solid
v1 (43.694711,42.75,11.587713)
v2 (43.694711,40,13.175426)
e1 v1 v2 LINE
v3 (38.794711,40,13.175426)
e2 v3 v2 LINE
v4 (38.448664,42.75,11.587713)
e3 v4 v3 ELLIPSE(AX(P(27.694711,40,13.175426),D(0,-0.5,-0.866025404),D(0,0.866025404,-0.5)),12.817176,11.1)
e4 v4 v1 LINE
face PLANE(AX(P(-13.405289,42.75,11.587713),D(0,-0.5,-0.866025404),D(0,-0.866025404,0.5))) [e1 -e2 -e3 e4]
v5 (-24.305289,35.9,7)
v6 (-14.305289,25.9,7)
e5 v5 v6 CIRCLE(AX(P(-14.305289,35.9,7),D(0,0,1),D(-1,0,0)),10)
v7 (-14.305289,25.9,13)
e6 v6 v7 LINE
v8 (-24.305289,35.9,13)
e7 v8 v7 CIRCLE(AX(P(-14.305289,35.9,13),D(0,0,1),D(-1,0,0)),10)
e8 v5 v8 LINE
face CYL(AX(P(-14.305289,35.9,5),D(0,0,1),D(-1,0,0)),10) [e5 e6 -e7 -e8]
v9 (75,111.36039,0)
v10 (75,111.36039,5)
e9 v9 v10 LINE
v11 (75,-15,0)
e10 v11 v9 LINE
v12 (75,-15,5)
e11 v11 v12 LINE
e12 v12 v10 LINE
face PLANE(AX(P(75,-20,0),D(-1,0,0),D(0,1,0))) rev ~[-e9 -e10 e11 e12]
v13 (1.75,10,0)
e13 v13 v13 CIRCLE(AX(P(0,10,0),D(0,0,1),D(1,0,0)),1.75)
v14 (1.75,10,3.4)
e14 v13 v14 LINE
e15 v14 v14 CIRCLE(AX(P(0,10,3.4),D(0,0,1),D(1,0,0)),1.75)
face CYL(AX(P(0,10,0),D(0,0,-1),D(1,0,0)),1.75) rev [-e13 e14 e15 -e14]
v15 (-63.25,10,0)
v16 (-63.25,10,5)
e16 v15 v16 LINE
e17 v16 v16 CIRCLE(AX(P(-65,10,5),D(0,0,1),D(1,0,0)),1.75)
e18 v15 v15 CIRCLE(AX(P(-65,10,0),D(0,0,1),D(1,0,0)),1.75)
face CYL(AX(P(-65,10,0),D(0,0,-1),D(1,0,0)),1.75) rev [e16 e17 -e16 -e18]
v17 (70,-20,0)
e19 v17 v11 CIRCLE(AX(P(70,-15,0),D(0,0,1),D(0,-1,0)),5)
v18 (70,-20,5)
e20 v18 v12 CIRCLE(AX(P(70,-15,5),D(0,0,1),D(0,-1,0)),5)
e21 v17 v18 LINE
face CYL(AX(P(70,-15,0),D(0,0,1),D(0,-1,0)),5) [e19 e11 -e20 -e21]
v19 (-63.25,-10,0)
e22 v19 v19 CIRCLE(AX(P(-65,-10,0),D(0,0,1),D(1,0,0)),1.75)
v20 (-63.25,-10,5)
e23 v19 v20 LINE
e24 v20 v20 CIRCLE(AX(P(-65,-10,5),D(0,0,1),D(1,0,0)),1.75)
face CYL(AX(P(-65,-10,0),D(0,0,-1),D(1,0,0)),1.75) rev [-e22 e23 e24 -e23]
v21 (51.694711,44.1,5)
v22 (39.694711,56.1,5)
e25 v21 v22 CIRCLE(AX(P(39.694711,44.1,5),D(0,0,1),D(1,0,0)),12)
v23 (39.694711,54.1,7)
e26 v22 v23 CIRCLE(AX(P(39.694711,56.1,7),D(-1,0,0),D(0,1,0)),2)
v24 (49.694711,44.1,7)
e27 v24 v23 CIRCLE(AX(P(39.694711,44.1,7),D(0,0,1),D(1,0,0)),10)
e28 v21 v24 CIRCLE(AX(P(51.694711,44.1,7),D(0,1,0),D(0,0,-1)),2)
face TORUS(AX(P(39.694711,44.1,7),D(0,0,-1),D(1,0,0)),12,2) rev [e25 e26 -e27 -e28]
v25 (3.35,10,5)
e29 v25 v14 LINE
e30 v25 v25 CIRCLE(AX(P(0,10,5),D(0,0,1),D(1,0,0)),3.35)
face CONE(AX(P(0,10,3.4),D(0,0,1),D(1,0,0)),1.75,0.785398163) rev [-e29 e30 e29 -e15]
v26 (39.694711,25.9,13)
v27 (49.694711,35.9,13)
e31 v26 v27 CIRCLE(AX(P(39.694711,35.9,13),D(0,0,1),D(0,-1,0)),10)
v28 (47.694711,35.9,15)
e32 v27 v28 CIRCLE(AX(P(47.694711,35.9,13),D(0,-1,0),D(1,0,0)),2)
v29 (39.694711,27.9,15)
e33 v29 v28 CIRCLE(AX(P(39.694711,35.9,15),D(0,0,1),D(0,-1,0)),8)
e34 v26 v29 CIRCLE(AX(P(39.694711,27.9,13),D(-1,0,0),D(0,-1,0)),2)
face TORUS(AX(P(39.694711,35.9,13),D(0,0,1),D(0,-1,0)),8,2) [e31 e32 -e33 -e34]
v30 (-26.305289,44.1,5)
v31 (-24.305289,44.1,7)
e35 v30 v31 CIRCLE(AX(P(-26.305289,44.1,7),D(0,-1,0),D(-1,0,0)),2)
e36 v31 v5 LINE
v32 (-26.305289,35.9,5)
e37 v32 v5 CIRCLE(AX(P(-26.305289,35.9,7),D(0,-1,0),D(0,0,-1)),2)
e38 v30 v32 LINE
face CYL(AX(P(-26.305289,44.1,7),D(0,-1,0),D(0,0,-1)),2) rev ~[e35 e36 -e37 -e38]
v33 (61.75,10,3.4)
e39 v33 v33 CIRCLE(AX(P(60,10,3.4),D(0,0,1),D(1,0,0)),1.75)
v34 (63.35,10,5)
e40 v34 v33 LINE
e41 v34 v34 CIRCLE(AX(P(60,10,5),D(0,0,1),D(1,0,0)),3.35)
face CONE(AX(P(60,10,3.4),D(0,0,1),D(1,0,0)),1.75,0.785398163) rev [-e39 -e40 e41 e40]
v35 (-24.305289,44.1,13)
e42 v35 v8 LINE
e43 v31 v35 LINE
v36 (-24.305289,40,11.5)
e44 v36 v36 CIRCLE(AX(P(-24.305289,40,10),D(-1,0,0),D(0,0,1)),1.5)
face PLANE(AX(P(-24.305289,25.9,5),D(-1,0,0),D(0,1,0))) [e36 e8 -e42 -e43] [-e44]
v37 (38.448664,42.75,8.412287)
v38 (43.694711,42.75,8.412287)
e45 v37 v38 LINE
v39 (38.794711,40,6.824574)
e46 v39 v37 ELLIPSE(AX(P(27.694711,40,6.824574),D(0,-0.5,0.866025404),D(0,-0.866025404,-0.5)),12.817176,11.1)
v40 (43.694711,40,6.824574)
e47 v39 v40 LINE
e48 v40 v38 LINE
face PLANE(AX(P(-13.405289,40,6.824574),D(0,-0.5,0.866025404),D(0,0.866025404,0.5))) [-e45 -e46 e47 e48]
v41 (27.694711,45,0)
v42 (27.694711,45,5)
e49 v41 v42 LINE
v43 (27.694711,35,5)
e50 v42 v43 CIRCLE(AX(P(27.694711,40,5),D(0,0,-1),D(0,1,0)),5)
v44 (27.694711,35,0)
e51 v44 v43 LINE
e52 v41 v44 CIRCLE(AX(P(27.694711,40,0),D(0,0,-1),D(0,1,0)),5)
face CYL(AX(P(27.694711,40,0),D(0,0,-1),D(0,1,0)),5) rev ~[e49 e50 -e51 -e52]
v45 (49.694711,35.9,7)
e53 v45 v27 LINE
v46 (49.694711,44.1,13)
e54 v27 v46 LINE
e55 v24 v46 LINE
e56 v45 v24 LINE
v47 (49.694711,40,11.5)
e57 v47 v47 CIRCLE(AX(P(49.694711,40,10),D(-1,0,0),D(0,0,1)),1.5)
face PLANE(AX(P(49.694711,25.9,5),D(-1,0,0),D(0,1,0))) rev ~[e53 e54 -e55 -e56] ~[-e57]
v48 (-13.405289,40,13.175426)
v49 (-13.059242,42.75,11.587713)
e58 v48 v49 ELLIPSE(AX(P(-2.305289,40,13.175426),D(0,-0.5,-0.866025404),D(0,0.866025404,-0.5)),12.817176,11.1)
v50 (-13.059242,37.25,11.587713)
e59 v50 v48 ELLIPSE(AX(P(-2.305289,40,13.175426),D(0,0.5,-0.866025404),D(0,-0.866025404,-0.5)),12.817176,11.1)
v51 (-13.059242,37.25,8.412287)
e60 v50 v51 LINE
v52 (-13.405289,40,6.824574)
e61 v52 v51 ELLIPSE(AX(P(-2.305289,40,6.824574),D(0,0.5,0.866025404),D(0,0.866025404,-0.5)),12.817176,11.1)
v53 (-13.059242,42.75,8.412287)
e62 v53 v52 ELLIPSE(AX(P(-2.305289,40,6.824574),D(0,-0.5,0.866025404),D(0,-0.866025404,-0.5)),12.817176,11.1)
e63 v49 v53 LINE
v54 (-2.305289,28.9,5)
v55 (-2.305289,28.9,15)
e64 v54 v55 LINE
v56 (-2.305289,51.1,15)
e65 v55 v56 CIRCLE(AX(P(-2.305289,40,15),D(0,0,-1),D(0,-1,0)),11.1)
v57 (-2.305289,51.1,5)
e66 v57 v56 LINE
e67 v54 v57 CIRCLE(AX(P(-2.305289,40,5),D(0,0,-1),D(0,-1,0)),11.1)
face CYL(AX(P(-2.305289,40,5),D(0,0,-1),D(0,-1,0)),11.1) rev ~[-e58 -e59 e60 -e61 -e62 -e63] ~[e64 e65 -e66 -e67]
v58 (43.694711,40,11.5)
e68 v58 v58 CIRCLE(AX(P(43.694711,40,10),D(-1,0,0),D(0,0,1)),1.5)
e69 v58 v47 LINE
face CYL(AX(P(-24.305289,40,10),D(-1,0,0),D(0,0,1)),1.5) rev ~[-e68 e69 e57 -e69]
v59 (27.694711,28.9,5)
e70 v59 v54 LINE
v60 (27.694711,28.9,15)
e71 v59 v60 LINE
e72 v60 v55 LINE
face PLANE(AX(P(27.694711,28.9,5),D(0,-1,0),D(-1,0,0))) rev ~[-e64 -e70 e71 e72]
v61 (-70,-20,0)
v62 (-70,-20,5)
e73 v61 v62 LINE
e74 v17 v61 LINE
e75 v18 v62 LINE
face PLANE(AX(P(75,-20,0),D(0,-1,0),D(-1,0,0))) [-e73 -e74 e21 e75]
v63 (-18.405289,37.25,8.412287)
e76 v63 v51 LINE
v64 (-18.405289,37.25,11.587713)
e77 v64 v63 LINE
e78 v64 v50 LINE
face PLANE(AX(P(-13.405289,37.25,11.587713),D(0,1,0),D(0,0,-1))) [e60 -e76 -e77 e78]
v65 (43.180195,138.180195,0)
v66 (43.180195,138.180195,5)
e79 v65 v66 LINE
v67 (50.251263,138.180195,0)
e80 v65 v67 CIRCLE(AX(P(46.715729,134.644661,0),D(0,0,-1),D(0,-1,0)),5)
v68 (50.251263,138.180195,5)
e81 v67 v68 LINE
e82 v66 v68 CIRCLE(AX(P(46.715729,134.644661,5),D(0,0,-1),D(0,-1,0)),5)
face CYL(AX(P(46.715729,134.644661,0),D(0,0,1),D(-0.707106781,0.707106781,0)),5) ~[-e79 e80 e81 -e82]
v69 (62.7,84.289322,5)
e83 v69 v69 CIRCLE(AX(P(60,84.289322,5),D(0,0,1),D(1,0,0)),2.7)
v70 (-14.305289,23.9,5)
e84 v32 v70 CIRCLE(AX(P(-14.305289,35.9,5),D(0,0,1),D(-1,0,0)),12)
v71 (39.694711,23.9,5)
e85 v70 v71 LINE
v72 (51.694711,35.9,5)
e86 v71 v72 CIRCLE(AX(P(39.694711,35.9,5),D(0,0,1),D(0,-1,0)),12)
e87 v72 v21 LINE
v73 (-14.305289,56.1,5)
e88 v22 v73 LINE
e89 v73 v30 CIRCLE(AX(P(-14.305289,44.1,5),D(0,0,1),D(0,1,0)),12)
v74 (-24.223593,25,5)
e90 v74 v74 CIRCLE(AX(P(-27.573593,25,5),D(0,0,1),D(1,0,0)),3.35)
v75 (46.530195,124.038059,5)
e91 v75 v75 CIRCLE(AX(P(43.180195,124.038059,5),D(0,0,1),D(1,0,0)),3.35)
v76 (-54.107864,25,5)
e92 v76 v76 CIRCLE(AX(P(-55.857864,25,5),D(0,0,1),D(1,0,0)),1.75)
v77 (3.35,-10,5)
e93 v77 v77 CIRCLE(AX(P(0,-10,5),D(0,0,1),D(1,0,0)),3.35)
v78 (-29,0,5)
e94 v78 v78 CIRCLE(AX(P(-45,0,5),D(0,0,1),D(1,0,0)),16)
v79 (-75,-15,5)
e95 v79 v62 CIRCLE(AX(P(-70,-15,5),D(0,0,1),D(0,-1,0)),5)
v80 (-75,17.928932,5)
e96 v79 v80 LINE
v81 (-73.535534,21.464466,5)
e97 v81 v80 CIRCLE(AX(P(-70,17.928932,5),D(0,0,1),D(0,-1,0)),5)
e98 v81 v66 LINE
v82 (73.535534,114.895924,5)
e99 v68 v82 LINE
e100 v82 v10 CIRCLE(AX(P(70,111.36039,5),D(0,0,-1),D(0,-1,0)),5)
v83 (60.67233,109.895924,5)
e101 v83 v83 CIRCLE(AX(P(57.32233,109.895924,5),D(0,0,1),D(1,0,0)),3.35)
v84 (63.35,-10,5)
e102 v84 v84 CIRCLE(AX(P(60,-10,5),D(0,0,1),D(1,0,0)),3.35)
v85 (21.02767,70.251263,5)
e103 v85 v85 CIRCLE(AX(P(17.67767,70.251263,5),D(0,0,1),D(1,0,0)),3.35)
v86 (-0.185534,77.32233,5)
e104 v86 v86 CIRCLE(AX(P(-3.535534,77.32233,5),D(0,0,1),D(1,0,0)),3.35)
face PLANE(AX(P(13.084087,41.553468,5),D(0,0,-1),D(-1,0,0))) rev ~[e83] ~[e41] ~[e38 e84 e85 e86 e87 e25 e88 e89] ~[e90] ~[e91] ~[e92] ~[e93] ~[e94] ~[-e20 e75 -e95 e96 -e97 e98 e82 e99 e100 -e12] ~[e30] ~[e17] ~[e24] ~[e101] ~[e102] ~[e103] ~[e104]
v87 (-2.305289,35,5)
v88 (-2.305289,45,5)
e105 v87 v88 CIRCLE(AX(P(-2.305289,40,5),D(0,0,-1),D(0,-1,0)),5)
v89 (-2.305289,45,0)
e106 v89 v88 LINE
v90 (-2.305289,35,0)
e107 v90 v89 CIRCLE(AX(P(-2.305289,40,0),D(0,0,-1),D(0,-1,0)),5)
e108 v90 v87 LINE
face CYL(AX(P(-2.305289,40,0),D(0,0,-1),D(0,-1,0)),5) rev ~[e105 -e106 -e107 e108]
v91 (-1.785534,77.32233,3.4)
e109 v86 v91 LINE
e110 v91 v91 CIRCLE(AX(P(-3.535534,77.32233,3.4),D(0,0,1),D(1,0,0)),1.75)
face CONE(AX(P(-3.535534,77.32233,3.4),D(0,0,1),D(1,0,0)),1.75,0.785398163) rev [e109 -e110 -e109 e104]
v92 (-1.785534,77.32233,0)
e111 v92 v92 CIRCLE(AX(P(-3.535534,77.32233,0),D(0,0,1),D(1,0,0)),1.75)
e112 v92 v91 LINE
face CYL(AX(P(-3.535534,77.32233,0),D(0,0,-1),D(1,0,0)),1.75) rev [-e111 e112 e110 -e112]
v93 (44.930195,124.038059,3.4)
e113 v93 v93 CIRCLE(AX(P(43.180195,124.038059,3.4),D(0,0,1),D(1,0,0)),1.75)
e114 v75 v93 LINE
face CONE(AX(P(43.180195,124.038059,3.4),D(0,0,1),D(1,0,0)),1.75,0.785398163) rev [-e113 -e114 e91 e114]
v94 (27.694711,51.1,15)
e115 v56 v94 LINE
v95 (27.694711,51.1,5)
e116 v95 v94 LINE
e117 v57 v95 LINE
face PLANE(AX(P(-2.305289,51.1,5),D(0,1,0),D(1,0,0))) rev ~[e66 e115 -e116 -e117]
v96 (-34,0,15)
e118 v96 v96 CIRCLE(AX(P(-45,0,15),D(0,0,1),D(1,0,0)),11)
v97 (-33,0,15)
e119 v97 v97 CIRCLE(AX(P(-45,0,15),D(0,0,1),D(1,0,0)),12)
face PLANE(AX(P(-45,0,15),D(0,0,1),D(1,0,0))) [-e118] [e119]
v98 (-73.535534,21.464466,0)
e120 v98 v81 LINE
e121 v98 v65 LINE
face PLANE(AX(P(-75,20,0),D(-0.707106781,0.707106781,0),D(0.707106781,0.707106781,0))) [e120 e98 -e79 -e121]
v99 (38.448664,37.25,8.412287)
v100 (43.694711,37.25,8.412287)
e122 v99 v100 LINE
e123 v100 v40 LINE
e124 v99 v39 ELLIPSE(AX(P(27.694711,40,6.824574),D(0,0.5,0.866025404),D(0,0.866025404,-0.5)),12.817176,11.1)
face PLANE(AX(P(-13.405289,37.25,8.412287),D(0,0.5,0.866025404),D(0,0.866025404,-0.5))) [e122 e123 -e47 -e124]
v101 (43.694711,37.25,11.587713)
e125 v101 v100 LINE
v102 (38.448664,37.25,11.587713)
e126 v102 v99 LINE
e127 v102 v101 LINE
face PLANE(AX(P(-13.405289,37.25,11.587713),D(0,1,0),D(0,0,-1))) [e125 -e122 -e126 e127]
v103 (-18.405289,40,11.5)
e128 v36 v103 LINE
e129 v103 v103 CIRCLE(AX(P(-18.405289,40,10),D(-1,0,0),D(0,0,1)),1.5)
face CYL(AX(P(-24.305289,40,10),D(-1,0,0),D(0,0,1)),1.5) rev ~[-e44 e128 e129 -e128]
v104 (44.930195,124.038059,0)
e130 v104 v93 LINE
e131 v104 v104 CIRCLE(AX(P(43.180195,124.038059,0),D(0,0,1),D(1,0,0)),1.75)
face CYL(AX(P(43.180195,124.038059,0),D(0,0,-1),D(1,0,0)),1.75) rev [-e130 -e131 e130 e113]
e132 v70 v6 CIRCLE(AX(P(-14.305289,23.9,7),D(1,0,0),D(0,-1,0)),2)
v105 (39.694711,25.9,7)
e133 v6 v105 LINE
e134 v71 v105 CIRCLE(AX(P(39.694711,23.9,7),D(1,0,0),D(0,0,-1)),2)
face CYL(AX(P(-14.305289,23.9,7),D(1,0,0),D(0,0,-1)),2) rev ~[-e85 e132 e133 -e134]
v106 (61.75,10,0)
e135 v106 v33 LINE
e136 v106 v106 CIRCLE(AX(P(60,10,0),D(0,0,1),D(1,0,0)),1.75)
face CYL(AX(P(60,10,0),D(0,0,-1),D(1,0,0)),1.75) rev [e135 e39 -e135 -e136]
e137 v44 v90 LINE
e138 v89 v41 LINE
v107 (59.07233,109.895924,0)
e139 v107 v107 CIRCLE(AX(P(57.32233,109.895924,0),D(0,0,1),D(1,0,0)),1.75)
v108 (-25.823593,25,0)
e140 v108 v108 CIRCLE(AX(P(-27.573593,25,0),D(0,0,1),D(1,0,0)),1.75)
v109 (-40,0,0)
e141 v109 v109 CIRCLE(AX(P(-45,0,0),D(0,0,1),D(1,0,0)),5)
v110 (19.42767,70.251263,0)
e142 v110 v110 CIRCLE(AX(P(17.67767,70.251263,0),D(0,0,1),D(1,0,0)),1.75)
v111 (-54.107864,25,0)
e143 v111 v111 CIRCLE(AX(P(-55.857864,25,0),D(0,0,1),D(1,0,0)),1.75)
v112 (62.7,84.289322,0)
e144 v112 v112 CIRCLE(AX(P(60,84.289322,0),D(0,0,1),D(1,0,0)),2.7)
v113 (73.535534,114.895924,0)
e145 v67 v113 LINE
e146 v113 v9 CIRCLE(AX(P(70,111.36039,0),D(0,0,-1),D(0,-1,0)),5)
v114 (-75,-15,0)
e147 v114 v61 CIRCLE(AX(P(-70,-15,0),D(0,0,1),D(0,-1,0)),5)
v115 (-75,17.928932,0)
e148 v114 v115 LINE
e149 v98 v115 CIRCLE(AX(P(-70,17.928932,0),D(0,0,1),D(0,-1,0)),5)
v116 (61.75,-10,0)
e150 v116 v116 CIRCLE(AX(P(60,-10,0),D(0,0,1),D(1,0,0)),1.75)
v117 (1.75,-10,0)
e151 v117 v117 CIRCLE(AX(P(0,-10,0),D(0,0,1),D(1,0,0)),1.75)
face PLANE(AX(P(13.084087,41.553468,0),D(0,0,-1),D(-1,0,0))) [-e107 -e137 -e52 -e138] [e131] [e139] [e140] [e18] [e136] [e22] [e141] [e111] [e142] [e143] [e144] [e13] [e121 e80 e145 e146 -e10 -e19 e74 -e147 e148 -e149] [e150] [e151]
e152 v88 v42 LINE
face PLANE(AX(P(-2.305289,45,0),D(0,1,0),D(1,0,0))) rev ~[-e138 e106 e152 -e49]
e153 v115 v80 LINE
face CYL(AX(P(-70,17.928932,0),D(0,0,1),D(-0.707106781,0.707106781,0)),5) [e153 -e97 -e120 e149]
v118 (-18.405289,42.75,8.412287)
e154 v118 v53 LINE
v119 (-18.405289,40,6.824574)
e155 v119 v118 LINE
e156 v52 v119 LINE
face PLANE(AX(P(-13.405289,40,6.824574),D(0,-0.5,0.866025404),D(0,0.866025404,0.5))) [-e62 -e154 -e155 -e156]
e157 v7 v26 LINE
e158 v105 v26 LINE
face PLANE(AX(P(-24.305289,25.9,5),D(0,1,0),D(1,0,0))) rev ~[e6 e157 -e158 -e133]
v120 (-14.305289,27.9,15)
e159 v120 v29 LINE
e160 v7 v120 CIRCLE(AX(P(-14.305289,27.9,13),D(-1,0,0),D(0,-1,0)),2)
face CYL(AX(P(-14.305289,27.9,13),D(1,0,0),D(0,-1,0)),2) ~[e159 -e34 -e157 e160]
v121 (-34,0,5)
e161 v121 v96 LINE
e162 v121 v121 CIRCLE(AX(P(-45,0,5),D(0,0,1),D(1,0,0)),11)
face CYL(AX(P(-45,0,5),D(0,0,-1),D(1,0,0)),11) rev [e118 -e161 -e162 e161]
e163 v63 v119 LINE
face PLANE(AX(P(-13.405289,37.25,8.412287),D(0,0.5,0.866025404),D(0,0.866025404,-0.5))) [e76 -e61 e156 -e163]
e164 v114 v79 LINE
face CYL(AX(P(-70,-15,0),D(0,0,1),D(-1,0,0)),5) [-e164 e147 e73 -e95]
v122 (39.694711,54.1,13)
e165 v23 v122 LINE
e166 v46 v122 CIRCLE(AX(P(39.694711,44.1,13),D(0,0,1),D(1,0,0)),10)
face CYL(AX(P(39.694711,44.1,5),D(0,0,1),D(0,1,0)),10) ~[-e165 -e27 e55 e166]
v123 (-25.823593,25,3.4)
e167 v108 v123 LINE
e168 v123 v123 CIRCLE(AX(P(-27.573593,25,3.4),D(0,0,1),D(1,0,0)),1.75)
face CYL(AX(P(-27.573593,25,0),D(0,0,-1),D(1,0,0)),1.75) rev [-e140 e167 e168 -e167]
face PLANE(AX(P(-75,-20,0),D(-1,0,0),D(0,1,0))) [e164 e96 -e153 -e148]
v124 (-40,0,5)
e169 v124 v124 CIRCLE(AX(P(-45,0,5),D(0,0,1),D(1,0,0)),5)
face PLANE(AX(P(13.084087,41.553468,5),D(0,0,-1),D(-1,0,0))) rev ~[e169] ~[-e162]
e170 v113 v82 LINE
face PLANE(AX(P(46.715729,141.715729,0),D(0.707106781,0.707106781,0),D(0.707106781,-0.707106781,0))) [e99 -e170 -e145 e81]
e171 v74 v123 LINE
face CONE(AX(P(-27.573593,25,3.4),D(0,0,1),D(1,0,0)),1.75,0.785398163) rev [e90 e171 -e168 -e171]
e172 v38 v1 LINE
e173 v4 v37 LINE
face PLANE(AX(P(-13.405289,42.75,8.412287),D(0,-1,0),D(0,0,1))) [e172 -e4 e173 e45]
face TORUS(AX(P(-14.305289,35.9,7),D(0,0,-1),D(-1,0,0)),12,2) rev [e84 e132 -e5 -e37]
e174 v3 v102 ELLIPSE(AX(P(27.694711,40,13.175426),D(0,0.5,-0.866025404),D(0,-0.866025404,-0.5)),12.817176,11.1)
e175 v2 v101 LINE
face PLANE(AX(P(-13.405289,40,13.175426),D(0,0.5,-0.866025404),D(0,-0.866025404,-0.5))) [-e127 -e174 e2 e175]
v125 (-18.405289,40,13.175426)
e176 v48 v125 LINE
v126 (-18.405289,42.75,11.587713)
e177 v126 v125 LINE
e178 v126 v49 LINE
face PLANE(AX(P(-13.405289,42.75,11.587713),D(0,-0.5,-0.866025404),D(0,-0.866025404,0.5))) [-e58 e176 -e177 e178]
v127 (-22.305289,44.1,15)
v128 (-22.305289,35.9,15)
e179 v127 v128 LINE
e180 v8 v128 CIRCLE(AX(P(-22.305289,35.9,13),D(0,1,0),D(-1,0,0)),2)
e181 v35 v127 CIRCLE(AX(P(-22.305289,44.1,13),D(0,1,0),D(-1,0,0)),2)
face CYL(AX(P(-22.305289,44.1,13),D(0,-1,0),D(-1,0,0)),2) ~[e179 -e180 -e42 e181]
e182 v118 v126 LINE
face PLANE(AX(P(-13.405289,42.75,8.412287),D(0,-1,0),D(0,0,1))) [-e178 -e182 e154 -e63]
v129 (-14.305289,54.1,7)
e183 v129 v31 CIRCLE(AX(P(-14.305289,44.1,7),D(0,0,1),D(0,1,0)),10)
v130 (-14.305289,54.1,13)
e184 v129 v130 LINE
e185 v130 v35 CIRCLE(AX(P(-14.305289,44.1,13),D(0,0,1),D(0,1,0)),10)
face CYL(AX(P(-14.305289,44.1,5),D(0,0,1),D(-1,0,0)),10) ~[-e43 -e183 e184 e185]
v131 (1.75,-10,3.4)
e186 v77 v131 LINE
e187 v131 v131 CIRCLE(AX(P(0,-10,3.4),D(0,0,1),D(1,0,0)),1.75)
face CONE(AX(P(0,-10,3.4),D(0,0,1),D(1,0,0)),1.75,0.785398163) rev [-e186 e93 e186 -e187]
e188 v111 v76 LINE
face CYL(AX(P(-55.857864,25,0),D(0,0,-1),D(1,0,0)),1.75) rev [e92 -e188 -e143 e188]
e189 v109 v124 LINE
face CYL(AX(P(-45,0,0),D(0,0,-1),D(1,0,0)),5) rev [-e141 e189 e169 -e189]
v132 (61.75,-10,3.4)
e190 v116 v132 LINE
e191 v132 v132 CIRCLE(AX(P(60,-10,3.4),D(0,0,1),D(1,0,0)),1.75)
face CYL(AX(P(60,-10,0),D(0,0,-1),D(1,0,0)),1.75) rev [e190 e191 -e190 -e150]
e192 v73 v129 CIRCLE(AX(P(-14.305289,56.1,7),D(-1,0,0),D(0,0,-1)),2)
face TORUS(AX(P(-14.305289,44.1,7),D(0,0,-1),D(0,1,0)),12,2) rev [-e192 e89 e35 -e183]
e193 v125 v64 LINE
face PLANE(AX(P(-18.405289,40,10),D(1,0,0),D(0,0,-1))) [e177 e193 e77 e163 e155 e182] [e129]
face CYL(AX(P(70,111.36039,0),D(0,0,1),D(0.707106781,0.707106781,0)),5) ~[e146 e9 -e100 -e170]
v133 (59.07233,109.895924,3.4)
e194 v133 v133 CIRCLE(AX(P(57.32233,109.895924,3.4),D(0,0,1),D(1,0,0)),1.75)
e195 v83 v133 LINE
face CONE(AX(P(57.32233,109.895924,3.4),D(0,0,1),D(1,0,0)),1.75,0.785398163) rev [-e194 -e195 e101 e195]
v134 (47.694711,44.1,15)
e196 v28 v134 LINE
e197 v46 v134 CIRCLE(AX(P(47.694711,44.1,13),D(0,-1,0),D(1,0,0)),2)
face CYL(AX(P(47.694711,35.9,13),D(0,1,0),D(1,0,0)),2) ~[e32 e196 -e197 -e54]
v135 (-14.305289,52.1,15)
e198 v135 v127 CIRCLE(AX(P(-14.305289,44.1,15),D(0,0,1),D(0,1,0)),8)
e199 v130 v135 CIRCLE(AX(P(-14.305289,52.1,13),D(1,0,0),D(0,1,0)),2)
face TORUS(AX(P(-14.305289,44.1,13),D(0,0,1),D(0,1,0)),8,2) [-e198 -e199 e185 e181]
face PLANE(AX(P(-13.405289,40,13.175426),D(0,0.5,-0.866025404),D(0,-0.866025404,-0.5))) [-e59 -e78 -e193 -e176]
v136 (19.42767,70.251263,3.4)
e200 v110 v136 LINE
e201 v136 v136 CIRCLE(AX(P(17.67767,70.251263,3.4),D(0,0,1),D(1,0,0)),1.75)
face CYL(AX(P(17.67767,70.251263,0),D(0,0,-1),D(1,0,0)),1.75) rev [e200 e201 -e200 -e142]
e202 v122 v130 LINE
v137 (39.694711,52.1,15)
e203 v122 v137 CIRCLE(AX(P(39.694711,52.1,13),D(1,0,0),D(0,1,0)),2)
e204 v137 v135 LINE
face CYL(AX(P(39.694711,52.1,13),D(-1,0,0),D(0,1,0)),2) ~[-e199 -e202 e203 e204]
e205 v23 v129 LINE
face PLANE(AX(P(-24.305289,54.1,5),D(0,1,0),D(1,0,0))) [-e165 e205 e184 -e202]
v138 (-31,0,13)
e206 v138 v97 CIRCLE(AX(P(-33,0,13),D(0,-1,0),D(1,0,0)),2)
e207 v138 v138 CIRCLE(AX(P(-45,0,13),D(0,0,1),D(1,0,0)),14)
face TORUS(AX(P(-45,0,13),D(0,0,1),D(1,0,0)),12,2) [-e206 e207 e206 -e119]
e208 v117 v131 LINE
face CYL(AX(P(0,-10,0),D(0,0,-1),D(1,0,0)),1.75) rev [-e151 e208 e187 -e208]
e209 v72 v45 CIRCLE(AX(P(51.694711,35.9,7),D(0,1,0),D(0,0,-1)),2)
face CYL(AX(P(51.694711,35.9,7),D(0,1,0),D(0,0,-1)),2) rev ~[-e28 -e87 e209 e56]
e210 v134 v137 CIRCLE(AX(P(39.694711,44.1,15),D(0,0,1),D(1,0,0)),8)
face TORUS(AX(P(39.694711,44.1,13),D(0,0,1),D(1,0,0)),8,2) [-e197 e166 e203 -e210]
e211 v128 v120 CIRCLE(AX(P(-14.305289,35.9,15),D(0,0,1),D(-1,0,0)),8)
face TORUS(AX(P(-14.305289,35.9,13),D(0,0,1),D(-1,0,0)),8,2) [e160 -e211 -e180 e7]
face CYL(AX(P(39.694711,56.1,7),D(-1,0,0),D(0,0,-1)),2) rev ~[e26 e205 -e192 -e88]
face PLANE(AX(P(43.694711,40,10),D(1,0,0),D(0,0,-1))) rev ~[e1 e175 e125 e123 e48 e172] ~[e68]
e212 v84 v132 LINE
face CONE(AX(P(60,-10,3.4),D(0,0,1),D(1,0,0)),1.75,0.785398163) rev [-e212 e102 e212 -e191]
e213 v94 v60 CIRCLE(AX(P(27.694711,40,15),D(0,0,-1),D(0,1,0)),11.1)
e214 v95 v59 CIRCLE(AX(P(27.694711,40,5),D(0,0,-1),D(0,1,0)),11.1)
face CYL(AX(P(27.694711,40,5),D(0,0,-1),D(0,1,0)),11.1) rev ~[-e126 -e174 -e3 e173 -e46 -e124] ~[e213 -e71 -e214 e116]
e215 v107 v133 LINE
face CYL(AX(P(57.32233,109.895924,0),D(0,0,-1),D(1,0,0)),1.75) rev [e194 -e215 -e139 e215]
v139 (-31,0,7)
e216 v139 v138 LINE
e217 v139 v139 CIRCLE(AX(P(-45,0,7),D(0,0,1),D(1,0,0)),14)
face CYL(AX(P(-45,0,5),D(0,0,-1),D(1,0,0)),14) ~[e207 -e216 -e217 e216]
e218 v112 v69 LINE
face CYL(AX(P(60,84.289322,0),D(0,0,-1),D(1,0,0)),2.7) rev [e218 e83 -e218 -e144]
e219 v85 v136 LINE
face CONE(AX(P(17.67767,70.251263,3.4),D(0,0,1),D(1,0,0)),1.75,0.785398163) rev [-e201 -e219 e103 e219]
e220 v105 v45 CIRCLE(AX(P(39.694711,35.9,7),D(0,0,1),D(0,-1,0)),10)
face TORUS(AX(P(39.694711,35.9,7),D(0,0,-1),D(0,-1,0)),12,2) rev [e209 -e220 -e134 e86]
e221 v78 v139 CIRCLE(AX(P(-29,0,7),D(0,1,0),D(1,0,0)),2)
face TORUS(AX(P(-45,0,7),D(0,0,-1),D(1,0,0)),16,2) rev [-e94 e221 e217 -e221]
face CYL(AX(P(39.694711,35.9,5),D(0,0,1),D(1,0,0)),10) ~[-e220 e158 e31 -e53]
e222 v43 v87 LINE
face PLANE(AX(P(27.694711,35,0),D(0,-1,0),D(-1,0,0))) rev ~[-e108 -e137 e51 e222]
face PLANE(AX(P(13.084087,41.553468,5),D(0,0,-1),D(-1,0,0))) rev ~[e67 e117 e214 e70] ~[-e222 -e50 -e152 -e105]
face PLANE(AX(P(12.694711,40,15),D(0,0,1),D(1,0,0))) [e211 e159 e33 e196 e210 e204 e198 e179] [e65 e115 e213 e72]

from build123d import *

# Parameters (mm, degrees)
SKETCH1_R               = 5
SKETCH1_R_2             = 1.75
SKETCH1_R_3             = 2.7
BOSS_EXTRUDE1_DEPTH     = 5
SKETCH2_R               = 14
SKETCH2_R_2             = 11
SKETCH2_W               = 74
SKETCH2_H               = 28.2
BOSS_EXTRUDE2_DEPTH     = 10
CHAMFER1_SIZE           = 1.6
FILLET1_R               = 10
SKETCH3_R               = 1.5
CUT_EXTRUDE1_DEPTH      = 100.305288875
CUT_EXTRUDE3_DEPTH      = 57.1
CUT_EXTRUDE3_DEPTH_BACK = 5
FILLET2_R               = 2
FILLET3_R               = 2
FILLET4_R               = 5


with BuildPart() as part:
    # Sketch1 → Boss-Extrude1 (new body)
    with BuildSketch(Plane.XY):
        Polygon((-75, 20), (46.715728753, 141.715728753), (75, 113.431457505), (75, 20), (75, -20), (-75, -20), align=None)
        with Locations((-45, 0)):
            Circle(SKETCH1_R, mode=Mode.SUBTRACT)
        with Locations((-65, -10)):
            Circle(SKETCH1_R_2, mode=Mode.SUBTRACT)
        with Locations((0, 10)):
            Circle(SKETCH1_R_2, mode=Mode.SUBTRACT)
        with Locations((60, -10)):
            Circle(SKETCH1_R_2, mode=Mode.SUBTRACT)
        with Locations((-55.857864376, 25)):
            Circle(SKETCH1_R_2, mode=Mode.SUBTRACT)
        with Locations((43.180194847, 124.038059223)):
            Circle(SKETCH1_R_2, mode=Mode.SUBTRACT)
        with Locations((-27.573593129, 25)):
            Circle(SKETCH1_R_2, mode=Mode.SUBTRACT)
        with Locations((57.32233047, 109.895923599)):
            Circle(SKETCH1_R_2, mode=Mode.SUBTRACT)
        with Locations((-3.535533906, 77.32233047)):
            Circle(SKETCH1_R_2, mode=Mode.SUBTRACT)
        with Locations((17.67766953, 70.251262658)):
            Circle(SKETCH1_R_2, mode=Mode.SUBTRACT)
        with Locations((60, 10)):
            Circle(SKETCH1_R_2, mode=Mode.SUBTRACT)
        with Locations((-65, 10)):
            Circle(SKETCH1_R_2, mode=Mode.SUBTRACT)
        with Locations((0, -10)):
            Circle(SKETCH1_R_2, mode=Mode.SUBTRACT)
        with Locations((60, 84.289321881)):
            Circle(SKETCH1_R_3, mode=Mode.SUBTRACT)
        with BuildLine():
            Line((-2.305288875, 45), (27.694711125, 45))
            ThreePointArc((27.694711125, 45), (32.694711125, 40), (27.694711125, 35))
            Line((27.694711125, 35), (-2.305288875, 35))
            ThreePointArc((-2.305288875, 35), (-7.305288875, 40), (-2.305288875, 45))
        make_face(mode=Mode.SUBTRACT)
    extrude(amount=BOSS_EXTRUDE1_DEPTH)

    # Sketch2 → Boss-Extrude2 (add)
    with BuildSketch(Plane.XY.offset(5)):
        with Locations((-45, 0)):
            Circle(SKETCH2_R)
        with Locations((-45, 0)):
            Circle(SKETCH2_R_2, mode=Mode.SUBTRACT)
        with Locations((12.694711125, 40)):
            Rectangle(SKETCH2_W, SKETCH2_H)
        with BuildLine():
            Line((-2.305288875, 51.1), (27.694711125, 51.1))
            ThreePointArc((27.694711125, 51.1), (38.794711125, 40), (27.694711125, 28.9))
            Line((27.694711125, 28.9), (-2.305288875, 28.9))
            ThreePointArc((-2.305288875, 28.9), (-13.405288875, 40), (-2.305288875, 51.1))
        make_face(mode=Mode.SUBTRACT)
    extrude(amount=BOSS_EXTRUDE2_DEPTH)

    # Chamfer1
    chamfer1_edges = [part.edges().sort_by_distance(p)[0] for p in [
        (-1.75, -10, 5),
        (58.25, 10, 5),
        (15.92766953, 70.251262658, 5),
        (-5.285533906, 77.32233047, 5),
        (55.57233047, 109.895923599, 5),
        (-29.323593129, 25, 5),
        (41.430194847, 124.038059223, 5),
        (58.25, -10, 5),
        (-1.75, 10, 5),
    ]]
    chamfer(chamfer1_edges, length=CHAMFER1_SIZE)

    # Fillet1
    fillet1_edges = [part.edges().sort_by_distance(p)[0] for p in [
        (49.694711125, 25.9, 10),
        (49.694711125, 54.1, 10),
        (-24.305288875, 54.1, 10),
        (-24.305288875, 25.9, 10),
    ]]
    fillet(fillet1_edges, radius=FILLET1_R)

    # Sketch3 → Cut-Extrude1 (cut, through all)
    with BuildSketch(Plane.ZY.offset(24.305288875)):
        with Locations((10, 40)):
            Circle(SKETCH3_R)
    extrude(amount=-CUT_EXTRUDE1_DEPTH, mode=Mode.SUBTRACT)

    # Sketch4 → Cut-Extrude3 (cut, two sides)
    with BuildSketch(Plane(origin=(-13.405288875, 0, 0), x_dir=(0, 0, -1), z_dir=(1, 0, 0))) as cut_extrude3_sk:
        Polygon((-6.824573519, 40), (-8.41228676, 42.75), (-11.58771324, 42.75), (-13.175426481, 40), (-11.58771324, 37.25), (-8.41228676, 37.25), align=None)
    extrude(amount=CUT_EXTRUDE3_DEPTH, mode=Mode.SUBTRACT)
    extrude(cut_extrude3_sk.sketch, amount=-CUT_EXTRUDE3_DEPTH_BACK, mode=Mode.SUBTRACT)

    # Fillet2
    fillet2_edges = [part.edges().sort_by_distance(p)[0] for p in [
        (49.694711125, 40, 5),
        (12.694711125, 25.9, 5),
        (12.694711125, 54.1, 5),
        (-24.305288875, 40, 5),
        (46.765778937, 28.828932188, 5),
        (46.765778937, 51.171067812, 5),
        (-21.376356686, 28.828932188, 5),
        (-21.376356686, 51.171067812, 5),
        (-59, 0, 5),
    ]]
    fillet(fillet2_edges, radius=FILLET2_R)

    # Fillet3
    fillet3_edges = [part.edges().sort_by_distance(p)[0] for p in [
        (49.694711125, 40, 15),
        (12.694711125, 25.9, 15),
        (12.694711125, 54.1, 15),
        (-24.305288875, 40, 15),
        (-21.376356686, 51.171067812, 15),
        (-21.376356686, 28.828932188, 15),
        (46.765778937, 51.171067812, 15),
        (46.765778937, 28.828932188, 15),
        (-59, 0, 15),
    ]]
    fillet(fillet3_edges, radius=FILLET3_R)

    # Fillet4
    fillet4_edges = [part.edges().sort_by_distance(p)[0] for p in [
        (75, -20, 2.5),
        (-75, -20, 2.5),
        (-75, 20, 2.5),
        (46.715728753, 141.715728753, 2.5),
        (75, 113.431457505, 2.5),
    ]]
    fillet(fillet4_edges, radius=FILLET4_R)


solid = part.part
